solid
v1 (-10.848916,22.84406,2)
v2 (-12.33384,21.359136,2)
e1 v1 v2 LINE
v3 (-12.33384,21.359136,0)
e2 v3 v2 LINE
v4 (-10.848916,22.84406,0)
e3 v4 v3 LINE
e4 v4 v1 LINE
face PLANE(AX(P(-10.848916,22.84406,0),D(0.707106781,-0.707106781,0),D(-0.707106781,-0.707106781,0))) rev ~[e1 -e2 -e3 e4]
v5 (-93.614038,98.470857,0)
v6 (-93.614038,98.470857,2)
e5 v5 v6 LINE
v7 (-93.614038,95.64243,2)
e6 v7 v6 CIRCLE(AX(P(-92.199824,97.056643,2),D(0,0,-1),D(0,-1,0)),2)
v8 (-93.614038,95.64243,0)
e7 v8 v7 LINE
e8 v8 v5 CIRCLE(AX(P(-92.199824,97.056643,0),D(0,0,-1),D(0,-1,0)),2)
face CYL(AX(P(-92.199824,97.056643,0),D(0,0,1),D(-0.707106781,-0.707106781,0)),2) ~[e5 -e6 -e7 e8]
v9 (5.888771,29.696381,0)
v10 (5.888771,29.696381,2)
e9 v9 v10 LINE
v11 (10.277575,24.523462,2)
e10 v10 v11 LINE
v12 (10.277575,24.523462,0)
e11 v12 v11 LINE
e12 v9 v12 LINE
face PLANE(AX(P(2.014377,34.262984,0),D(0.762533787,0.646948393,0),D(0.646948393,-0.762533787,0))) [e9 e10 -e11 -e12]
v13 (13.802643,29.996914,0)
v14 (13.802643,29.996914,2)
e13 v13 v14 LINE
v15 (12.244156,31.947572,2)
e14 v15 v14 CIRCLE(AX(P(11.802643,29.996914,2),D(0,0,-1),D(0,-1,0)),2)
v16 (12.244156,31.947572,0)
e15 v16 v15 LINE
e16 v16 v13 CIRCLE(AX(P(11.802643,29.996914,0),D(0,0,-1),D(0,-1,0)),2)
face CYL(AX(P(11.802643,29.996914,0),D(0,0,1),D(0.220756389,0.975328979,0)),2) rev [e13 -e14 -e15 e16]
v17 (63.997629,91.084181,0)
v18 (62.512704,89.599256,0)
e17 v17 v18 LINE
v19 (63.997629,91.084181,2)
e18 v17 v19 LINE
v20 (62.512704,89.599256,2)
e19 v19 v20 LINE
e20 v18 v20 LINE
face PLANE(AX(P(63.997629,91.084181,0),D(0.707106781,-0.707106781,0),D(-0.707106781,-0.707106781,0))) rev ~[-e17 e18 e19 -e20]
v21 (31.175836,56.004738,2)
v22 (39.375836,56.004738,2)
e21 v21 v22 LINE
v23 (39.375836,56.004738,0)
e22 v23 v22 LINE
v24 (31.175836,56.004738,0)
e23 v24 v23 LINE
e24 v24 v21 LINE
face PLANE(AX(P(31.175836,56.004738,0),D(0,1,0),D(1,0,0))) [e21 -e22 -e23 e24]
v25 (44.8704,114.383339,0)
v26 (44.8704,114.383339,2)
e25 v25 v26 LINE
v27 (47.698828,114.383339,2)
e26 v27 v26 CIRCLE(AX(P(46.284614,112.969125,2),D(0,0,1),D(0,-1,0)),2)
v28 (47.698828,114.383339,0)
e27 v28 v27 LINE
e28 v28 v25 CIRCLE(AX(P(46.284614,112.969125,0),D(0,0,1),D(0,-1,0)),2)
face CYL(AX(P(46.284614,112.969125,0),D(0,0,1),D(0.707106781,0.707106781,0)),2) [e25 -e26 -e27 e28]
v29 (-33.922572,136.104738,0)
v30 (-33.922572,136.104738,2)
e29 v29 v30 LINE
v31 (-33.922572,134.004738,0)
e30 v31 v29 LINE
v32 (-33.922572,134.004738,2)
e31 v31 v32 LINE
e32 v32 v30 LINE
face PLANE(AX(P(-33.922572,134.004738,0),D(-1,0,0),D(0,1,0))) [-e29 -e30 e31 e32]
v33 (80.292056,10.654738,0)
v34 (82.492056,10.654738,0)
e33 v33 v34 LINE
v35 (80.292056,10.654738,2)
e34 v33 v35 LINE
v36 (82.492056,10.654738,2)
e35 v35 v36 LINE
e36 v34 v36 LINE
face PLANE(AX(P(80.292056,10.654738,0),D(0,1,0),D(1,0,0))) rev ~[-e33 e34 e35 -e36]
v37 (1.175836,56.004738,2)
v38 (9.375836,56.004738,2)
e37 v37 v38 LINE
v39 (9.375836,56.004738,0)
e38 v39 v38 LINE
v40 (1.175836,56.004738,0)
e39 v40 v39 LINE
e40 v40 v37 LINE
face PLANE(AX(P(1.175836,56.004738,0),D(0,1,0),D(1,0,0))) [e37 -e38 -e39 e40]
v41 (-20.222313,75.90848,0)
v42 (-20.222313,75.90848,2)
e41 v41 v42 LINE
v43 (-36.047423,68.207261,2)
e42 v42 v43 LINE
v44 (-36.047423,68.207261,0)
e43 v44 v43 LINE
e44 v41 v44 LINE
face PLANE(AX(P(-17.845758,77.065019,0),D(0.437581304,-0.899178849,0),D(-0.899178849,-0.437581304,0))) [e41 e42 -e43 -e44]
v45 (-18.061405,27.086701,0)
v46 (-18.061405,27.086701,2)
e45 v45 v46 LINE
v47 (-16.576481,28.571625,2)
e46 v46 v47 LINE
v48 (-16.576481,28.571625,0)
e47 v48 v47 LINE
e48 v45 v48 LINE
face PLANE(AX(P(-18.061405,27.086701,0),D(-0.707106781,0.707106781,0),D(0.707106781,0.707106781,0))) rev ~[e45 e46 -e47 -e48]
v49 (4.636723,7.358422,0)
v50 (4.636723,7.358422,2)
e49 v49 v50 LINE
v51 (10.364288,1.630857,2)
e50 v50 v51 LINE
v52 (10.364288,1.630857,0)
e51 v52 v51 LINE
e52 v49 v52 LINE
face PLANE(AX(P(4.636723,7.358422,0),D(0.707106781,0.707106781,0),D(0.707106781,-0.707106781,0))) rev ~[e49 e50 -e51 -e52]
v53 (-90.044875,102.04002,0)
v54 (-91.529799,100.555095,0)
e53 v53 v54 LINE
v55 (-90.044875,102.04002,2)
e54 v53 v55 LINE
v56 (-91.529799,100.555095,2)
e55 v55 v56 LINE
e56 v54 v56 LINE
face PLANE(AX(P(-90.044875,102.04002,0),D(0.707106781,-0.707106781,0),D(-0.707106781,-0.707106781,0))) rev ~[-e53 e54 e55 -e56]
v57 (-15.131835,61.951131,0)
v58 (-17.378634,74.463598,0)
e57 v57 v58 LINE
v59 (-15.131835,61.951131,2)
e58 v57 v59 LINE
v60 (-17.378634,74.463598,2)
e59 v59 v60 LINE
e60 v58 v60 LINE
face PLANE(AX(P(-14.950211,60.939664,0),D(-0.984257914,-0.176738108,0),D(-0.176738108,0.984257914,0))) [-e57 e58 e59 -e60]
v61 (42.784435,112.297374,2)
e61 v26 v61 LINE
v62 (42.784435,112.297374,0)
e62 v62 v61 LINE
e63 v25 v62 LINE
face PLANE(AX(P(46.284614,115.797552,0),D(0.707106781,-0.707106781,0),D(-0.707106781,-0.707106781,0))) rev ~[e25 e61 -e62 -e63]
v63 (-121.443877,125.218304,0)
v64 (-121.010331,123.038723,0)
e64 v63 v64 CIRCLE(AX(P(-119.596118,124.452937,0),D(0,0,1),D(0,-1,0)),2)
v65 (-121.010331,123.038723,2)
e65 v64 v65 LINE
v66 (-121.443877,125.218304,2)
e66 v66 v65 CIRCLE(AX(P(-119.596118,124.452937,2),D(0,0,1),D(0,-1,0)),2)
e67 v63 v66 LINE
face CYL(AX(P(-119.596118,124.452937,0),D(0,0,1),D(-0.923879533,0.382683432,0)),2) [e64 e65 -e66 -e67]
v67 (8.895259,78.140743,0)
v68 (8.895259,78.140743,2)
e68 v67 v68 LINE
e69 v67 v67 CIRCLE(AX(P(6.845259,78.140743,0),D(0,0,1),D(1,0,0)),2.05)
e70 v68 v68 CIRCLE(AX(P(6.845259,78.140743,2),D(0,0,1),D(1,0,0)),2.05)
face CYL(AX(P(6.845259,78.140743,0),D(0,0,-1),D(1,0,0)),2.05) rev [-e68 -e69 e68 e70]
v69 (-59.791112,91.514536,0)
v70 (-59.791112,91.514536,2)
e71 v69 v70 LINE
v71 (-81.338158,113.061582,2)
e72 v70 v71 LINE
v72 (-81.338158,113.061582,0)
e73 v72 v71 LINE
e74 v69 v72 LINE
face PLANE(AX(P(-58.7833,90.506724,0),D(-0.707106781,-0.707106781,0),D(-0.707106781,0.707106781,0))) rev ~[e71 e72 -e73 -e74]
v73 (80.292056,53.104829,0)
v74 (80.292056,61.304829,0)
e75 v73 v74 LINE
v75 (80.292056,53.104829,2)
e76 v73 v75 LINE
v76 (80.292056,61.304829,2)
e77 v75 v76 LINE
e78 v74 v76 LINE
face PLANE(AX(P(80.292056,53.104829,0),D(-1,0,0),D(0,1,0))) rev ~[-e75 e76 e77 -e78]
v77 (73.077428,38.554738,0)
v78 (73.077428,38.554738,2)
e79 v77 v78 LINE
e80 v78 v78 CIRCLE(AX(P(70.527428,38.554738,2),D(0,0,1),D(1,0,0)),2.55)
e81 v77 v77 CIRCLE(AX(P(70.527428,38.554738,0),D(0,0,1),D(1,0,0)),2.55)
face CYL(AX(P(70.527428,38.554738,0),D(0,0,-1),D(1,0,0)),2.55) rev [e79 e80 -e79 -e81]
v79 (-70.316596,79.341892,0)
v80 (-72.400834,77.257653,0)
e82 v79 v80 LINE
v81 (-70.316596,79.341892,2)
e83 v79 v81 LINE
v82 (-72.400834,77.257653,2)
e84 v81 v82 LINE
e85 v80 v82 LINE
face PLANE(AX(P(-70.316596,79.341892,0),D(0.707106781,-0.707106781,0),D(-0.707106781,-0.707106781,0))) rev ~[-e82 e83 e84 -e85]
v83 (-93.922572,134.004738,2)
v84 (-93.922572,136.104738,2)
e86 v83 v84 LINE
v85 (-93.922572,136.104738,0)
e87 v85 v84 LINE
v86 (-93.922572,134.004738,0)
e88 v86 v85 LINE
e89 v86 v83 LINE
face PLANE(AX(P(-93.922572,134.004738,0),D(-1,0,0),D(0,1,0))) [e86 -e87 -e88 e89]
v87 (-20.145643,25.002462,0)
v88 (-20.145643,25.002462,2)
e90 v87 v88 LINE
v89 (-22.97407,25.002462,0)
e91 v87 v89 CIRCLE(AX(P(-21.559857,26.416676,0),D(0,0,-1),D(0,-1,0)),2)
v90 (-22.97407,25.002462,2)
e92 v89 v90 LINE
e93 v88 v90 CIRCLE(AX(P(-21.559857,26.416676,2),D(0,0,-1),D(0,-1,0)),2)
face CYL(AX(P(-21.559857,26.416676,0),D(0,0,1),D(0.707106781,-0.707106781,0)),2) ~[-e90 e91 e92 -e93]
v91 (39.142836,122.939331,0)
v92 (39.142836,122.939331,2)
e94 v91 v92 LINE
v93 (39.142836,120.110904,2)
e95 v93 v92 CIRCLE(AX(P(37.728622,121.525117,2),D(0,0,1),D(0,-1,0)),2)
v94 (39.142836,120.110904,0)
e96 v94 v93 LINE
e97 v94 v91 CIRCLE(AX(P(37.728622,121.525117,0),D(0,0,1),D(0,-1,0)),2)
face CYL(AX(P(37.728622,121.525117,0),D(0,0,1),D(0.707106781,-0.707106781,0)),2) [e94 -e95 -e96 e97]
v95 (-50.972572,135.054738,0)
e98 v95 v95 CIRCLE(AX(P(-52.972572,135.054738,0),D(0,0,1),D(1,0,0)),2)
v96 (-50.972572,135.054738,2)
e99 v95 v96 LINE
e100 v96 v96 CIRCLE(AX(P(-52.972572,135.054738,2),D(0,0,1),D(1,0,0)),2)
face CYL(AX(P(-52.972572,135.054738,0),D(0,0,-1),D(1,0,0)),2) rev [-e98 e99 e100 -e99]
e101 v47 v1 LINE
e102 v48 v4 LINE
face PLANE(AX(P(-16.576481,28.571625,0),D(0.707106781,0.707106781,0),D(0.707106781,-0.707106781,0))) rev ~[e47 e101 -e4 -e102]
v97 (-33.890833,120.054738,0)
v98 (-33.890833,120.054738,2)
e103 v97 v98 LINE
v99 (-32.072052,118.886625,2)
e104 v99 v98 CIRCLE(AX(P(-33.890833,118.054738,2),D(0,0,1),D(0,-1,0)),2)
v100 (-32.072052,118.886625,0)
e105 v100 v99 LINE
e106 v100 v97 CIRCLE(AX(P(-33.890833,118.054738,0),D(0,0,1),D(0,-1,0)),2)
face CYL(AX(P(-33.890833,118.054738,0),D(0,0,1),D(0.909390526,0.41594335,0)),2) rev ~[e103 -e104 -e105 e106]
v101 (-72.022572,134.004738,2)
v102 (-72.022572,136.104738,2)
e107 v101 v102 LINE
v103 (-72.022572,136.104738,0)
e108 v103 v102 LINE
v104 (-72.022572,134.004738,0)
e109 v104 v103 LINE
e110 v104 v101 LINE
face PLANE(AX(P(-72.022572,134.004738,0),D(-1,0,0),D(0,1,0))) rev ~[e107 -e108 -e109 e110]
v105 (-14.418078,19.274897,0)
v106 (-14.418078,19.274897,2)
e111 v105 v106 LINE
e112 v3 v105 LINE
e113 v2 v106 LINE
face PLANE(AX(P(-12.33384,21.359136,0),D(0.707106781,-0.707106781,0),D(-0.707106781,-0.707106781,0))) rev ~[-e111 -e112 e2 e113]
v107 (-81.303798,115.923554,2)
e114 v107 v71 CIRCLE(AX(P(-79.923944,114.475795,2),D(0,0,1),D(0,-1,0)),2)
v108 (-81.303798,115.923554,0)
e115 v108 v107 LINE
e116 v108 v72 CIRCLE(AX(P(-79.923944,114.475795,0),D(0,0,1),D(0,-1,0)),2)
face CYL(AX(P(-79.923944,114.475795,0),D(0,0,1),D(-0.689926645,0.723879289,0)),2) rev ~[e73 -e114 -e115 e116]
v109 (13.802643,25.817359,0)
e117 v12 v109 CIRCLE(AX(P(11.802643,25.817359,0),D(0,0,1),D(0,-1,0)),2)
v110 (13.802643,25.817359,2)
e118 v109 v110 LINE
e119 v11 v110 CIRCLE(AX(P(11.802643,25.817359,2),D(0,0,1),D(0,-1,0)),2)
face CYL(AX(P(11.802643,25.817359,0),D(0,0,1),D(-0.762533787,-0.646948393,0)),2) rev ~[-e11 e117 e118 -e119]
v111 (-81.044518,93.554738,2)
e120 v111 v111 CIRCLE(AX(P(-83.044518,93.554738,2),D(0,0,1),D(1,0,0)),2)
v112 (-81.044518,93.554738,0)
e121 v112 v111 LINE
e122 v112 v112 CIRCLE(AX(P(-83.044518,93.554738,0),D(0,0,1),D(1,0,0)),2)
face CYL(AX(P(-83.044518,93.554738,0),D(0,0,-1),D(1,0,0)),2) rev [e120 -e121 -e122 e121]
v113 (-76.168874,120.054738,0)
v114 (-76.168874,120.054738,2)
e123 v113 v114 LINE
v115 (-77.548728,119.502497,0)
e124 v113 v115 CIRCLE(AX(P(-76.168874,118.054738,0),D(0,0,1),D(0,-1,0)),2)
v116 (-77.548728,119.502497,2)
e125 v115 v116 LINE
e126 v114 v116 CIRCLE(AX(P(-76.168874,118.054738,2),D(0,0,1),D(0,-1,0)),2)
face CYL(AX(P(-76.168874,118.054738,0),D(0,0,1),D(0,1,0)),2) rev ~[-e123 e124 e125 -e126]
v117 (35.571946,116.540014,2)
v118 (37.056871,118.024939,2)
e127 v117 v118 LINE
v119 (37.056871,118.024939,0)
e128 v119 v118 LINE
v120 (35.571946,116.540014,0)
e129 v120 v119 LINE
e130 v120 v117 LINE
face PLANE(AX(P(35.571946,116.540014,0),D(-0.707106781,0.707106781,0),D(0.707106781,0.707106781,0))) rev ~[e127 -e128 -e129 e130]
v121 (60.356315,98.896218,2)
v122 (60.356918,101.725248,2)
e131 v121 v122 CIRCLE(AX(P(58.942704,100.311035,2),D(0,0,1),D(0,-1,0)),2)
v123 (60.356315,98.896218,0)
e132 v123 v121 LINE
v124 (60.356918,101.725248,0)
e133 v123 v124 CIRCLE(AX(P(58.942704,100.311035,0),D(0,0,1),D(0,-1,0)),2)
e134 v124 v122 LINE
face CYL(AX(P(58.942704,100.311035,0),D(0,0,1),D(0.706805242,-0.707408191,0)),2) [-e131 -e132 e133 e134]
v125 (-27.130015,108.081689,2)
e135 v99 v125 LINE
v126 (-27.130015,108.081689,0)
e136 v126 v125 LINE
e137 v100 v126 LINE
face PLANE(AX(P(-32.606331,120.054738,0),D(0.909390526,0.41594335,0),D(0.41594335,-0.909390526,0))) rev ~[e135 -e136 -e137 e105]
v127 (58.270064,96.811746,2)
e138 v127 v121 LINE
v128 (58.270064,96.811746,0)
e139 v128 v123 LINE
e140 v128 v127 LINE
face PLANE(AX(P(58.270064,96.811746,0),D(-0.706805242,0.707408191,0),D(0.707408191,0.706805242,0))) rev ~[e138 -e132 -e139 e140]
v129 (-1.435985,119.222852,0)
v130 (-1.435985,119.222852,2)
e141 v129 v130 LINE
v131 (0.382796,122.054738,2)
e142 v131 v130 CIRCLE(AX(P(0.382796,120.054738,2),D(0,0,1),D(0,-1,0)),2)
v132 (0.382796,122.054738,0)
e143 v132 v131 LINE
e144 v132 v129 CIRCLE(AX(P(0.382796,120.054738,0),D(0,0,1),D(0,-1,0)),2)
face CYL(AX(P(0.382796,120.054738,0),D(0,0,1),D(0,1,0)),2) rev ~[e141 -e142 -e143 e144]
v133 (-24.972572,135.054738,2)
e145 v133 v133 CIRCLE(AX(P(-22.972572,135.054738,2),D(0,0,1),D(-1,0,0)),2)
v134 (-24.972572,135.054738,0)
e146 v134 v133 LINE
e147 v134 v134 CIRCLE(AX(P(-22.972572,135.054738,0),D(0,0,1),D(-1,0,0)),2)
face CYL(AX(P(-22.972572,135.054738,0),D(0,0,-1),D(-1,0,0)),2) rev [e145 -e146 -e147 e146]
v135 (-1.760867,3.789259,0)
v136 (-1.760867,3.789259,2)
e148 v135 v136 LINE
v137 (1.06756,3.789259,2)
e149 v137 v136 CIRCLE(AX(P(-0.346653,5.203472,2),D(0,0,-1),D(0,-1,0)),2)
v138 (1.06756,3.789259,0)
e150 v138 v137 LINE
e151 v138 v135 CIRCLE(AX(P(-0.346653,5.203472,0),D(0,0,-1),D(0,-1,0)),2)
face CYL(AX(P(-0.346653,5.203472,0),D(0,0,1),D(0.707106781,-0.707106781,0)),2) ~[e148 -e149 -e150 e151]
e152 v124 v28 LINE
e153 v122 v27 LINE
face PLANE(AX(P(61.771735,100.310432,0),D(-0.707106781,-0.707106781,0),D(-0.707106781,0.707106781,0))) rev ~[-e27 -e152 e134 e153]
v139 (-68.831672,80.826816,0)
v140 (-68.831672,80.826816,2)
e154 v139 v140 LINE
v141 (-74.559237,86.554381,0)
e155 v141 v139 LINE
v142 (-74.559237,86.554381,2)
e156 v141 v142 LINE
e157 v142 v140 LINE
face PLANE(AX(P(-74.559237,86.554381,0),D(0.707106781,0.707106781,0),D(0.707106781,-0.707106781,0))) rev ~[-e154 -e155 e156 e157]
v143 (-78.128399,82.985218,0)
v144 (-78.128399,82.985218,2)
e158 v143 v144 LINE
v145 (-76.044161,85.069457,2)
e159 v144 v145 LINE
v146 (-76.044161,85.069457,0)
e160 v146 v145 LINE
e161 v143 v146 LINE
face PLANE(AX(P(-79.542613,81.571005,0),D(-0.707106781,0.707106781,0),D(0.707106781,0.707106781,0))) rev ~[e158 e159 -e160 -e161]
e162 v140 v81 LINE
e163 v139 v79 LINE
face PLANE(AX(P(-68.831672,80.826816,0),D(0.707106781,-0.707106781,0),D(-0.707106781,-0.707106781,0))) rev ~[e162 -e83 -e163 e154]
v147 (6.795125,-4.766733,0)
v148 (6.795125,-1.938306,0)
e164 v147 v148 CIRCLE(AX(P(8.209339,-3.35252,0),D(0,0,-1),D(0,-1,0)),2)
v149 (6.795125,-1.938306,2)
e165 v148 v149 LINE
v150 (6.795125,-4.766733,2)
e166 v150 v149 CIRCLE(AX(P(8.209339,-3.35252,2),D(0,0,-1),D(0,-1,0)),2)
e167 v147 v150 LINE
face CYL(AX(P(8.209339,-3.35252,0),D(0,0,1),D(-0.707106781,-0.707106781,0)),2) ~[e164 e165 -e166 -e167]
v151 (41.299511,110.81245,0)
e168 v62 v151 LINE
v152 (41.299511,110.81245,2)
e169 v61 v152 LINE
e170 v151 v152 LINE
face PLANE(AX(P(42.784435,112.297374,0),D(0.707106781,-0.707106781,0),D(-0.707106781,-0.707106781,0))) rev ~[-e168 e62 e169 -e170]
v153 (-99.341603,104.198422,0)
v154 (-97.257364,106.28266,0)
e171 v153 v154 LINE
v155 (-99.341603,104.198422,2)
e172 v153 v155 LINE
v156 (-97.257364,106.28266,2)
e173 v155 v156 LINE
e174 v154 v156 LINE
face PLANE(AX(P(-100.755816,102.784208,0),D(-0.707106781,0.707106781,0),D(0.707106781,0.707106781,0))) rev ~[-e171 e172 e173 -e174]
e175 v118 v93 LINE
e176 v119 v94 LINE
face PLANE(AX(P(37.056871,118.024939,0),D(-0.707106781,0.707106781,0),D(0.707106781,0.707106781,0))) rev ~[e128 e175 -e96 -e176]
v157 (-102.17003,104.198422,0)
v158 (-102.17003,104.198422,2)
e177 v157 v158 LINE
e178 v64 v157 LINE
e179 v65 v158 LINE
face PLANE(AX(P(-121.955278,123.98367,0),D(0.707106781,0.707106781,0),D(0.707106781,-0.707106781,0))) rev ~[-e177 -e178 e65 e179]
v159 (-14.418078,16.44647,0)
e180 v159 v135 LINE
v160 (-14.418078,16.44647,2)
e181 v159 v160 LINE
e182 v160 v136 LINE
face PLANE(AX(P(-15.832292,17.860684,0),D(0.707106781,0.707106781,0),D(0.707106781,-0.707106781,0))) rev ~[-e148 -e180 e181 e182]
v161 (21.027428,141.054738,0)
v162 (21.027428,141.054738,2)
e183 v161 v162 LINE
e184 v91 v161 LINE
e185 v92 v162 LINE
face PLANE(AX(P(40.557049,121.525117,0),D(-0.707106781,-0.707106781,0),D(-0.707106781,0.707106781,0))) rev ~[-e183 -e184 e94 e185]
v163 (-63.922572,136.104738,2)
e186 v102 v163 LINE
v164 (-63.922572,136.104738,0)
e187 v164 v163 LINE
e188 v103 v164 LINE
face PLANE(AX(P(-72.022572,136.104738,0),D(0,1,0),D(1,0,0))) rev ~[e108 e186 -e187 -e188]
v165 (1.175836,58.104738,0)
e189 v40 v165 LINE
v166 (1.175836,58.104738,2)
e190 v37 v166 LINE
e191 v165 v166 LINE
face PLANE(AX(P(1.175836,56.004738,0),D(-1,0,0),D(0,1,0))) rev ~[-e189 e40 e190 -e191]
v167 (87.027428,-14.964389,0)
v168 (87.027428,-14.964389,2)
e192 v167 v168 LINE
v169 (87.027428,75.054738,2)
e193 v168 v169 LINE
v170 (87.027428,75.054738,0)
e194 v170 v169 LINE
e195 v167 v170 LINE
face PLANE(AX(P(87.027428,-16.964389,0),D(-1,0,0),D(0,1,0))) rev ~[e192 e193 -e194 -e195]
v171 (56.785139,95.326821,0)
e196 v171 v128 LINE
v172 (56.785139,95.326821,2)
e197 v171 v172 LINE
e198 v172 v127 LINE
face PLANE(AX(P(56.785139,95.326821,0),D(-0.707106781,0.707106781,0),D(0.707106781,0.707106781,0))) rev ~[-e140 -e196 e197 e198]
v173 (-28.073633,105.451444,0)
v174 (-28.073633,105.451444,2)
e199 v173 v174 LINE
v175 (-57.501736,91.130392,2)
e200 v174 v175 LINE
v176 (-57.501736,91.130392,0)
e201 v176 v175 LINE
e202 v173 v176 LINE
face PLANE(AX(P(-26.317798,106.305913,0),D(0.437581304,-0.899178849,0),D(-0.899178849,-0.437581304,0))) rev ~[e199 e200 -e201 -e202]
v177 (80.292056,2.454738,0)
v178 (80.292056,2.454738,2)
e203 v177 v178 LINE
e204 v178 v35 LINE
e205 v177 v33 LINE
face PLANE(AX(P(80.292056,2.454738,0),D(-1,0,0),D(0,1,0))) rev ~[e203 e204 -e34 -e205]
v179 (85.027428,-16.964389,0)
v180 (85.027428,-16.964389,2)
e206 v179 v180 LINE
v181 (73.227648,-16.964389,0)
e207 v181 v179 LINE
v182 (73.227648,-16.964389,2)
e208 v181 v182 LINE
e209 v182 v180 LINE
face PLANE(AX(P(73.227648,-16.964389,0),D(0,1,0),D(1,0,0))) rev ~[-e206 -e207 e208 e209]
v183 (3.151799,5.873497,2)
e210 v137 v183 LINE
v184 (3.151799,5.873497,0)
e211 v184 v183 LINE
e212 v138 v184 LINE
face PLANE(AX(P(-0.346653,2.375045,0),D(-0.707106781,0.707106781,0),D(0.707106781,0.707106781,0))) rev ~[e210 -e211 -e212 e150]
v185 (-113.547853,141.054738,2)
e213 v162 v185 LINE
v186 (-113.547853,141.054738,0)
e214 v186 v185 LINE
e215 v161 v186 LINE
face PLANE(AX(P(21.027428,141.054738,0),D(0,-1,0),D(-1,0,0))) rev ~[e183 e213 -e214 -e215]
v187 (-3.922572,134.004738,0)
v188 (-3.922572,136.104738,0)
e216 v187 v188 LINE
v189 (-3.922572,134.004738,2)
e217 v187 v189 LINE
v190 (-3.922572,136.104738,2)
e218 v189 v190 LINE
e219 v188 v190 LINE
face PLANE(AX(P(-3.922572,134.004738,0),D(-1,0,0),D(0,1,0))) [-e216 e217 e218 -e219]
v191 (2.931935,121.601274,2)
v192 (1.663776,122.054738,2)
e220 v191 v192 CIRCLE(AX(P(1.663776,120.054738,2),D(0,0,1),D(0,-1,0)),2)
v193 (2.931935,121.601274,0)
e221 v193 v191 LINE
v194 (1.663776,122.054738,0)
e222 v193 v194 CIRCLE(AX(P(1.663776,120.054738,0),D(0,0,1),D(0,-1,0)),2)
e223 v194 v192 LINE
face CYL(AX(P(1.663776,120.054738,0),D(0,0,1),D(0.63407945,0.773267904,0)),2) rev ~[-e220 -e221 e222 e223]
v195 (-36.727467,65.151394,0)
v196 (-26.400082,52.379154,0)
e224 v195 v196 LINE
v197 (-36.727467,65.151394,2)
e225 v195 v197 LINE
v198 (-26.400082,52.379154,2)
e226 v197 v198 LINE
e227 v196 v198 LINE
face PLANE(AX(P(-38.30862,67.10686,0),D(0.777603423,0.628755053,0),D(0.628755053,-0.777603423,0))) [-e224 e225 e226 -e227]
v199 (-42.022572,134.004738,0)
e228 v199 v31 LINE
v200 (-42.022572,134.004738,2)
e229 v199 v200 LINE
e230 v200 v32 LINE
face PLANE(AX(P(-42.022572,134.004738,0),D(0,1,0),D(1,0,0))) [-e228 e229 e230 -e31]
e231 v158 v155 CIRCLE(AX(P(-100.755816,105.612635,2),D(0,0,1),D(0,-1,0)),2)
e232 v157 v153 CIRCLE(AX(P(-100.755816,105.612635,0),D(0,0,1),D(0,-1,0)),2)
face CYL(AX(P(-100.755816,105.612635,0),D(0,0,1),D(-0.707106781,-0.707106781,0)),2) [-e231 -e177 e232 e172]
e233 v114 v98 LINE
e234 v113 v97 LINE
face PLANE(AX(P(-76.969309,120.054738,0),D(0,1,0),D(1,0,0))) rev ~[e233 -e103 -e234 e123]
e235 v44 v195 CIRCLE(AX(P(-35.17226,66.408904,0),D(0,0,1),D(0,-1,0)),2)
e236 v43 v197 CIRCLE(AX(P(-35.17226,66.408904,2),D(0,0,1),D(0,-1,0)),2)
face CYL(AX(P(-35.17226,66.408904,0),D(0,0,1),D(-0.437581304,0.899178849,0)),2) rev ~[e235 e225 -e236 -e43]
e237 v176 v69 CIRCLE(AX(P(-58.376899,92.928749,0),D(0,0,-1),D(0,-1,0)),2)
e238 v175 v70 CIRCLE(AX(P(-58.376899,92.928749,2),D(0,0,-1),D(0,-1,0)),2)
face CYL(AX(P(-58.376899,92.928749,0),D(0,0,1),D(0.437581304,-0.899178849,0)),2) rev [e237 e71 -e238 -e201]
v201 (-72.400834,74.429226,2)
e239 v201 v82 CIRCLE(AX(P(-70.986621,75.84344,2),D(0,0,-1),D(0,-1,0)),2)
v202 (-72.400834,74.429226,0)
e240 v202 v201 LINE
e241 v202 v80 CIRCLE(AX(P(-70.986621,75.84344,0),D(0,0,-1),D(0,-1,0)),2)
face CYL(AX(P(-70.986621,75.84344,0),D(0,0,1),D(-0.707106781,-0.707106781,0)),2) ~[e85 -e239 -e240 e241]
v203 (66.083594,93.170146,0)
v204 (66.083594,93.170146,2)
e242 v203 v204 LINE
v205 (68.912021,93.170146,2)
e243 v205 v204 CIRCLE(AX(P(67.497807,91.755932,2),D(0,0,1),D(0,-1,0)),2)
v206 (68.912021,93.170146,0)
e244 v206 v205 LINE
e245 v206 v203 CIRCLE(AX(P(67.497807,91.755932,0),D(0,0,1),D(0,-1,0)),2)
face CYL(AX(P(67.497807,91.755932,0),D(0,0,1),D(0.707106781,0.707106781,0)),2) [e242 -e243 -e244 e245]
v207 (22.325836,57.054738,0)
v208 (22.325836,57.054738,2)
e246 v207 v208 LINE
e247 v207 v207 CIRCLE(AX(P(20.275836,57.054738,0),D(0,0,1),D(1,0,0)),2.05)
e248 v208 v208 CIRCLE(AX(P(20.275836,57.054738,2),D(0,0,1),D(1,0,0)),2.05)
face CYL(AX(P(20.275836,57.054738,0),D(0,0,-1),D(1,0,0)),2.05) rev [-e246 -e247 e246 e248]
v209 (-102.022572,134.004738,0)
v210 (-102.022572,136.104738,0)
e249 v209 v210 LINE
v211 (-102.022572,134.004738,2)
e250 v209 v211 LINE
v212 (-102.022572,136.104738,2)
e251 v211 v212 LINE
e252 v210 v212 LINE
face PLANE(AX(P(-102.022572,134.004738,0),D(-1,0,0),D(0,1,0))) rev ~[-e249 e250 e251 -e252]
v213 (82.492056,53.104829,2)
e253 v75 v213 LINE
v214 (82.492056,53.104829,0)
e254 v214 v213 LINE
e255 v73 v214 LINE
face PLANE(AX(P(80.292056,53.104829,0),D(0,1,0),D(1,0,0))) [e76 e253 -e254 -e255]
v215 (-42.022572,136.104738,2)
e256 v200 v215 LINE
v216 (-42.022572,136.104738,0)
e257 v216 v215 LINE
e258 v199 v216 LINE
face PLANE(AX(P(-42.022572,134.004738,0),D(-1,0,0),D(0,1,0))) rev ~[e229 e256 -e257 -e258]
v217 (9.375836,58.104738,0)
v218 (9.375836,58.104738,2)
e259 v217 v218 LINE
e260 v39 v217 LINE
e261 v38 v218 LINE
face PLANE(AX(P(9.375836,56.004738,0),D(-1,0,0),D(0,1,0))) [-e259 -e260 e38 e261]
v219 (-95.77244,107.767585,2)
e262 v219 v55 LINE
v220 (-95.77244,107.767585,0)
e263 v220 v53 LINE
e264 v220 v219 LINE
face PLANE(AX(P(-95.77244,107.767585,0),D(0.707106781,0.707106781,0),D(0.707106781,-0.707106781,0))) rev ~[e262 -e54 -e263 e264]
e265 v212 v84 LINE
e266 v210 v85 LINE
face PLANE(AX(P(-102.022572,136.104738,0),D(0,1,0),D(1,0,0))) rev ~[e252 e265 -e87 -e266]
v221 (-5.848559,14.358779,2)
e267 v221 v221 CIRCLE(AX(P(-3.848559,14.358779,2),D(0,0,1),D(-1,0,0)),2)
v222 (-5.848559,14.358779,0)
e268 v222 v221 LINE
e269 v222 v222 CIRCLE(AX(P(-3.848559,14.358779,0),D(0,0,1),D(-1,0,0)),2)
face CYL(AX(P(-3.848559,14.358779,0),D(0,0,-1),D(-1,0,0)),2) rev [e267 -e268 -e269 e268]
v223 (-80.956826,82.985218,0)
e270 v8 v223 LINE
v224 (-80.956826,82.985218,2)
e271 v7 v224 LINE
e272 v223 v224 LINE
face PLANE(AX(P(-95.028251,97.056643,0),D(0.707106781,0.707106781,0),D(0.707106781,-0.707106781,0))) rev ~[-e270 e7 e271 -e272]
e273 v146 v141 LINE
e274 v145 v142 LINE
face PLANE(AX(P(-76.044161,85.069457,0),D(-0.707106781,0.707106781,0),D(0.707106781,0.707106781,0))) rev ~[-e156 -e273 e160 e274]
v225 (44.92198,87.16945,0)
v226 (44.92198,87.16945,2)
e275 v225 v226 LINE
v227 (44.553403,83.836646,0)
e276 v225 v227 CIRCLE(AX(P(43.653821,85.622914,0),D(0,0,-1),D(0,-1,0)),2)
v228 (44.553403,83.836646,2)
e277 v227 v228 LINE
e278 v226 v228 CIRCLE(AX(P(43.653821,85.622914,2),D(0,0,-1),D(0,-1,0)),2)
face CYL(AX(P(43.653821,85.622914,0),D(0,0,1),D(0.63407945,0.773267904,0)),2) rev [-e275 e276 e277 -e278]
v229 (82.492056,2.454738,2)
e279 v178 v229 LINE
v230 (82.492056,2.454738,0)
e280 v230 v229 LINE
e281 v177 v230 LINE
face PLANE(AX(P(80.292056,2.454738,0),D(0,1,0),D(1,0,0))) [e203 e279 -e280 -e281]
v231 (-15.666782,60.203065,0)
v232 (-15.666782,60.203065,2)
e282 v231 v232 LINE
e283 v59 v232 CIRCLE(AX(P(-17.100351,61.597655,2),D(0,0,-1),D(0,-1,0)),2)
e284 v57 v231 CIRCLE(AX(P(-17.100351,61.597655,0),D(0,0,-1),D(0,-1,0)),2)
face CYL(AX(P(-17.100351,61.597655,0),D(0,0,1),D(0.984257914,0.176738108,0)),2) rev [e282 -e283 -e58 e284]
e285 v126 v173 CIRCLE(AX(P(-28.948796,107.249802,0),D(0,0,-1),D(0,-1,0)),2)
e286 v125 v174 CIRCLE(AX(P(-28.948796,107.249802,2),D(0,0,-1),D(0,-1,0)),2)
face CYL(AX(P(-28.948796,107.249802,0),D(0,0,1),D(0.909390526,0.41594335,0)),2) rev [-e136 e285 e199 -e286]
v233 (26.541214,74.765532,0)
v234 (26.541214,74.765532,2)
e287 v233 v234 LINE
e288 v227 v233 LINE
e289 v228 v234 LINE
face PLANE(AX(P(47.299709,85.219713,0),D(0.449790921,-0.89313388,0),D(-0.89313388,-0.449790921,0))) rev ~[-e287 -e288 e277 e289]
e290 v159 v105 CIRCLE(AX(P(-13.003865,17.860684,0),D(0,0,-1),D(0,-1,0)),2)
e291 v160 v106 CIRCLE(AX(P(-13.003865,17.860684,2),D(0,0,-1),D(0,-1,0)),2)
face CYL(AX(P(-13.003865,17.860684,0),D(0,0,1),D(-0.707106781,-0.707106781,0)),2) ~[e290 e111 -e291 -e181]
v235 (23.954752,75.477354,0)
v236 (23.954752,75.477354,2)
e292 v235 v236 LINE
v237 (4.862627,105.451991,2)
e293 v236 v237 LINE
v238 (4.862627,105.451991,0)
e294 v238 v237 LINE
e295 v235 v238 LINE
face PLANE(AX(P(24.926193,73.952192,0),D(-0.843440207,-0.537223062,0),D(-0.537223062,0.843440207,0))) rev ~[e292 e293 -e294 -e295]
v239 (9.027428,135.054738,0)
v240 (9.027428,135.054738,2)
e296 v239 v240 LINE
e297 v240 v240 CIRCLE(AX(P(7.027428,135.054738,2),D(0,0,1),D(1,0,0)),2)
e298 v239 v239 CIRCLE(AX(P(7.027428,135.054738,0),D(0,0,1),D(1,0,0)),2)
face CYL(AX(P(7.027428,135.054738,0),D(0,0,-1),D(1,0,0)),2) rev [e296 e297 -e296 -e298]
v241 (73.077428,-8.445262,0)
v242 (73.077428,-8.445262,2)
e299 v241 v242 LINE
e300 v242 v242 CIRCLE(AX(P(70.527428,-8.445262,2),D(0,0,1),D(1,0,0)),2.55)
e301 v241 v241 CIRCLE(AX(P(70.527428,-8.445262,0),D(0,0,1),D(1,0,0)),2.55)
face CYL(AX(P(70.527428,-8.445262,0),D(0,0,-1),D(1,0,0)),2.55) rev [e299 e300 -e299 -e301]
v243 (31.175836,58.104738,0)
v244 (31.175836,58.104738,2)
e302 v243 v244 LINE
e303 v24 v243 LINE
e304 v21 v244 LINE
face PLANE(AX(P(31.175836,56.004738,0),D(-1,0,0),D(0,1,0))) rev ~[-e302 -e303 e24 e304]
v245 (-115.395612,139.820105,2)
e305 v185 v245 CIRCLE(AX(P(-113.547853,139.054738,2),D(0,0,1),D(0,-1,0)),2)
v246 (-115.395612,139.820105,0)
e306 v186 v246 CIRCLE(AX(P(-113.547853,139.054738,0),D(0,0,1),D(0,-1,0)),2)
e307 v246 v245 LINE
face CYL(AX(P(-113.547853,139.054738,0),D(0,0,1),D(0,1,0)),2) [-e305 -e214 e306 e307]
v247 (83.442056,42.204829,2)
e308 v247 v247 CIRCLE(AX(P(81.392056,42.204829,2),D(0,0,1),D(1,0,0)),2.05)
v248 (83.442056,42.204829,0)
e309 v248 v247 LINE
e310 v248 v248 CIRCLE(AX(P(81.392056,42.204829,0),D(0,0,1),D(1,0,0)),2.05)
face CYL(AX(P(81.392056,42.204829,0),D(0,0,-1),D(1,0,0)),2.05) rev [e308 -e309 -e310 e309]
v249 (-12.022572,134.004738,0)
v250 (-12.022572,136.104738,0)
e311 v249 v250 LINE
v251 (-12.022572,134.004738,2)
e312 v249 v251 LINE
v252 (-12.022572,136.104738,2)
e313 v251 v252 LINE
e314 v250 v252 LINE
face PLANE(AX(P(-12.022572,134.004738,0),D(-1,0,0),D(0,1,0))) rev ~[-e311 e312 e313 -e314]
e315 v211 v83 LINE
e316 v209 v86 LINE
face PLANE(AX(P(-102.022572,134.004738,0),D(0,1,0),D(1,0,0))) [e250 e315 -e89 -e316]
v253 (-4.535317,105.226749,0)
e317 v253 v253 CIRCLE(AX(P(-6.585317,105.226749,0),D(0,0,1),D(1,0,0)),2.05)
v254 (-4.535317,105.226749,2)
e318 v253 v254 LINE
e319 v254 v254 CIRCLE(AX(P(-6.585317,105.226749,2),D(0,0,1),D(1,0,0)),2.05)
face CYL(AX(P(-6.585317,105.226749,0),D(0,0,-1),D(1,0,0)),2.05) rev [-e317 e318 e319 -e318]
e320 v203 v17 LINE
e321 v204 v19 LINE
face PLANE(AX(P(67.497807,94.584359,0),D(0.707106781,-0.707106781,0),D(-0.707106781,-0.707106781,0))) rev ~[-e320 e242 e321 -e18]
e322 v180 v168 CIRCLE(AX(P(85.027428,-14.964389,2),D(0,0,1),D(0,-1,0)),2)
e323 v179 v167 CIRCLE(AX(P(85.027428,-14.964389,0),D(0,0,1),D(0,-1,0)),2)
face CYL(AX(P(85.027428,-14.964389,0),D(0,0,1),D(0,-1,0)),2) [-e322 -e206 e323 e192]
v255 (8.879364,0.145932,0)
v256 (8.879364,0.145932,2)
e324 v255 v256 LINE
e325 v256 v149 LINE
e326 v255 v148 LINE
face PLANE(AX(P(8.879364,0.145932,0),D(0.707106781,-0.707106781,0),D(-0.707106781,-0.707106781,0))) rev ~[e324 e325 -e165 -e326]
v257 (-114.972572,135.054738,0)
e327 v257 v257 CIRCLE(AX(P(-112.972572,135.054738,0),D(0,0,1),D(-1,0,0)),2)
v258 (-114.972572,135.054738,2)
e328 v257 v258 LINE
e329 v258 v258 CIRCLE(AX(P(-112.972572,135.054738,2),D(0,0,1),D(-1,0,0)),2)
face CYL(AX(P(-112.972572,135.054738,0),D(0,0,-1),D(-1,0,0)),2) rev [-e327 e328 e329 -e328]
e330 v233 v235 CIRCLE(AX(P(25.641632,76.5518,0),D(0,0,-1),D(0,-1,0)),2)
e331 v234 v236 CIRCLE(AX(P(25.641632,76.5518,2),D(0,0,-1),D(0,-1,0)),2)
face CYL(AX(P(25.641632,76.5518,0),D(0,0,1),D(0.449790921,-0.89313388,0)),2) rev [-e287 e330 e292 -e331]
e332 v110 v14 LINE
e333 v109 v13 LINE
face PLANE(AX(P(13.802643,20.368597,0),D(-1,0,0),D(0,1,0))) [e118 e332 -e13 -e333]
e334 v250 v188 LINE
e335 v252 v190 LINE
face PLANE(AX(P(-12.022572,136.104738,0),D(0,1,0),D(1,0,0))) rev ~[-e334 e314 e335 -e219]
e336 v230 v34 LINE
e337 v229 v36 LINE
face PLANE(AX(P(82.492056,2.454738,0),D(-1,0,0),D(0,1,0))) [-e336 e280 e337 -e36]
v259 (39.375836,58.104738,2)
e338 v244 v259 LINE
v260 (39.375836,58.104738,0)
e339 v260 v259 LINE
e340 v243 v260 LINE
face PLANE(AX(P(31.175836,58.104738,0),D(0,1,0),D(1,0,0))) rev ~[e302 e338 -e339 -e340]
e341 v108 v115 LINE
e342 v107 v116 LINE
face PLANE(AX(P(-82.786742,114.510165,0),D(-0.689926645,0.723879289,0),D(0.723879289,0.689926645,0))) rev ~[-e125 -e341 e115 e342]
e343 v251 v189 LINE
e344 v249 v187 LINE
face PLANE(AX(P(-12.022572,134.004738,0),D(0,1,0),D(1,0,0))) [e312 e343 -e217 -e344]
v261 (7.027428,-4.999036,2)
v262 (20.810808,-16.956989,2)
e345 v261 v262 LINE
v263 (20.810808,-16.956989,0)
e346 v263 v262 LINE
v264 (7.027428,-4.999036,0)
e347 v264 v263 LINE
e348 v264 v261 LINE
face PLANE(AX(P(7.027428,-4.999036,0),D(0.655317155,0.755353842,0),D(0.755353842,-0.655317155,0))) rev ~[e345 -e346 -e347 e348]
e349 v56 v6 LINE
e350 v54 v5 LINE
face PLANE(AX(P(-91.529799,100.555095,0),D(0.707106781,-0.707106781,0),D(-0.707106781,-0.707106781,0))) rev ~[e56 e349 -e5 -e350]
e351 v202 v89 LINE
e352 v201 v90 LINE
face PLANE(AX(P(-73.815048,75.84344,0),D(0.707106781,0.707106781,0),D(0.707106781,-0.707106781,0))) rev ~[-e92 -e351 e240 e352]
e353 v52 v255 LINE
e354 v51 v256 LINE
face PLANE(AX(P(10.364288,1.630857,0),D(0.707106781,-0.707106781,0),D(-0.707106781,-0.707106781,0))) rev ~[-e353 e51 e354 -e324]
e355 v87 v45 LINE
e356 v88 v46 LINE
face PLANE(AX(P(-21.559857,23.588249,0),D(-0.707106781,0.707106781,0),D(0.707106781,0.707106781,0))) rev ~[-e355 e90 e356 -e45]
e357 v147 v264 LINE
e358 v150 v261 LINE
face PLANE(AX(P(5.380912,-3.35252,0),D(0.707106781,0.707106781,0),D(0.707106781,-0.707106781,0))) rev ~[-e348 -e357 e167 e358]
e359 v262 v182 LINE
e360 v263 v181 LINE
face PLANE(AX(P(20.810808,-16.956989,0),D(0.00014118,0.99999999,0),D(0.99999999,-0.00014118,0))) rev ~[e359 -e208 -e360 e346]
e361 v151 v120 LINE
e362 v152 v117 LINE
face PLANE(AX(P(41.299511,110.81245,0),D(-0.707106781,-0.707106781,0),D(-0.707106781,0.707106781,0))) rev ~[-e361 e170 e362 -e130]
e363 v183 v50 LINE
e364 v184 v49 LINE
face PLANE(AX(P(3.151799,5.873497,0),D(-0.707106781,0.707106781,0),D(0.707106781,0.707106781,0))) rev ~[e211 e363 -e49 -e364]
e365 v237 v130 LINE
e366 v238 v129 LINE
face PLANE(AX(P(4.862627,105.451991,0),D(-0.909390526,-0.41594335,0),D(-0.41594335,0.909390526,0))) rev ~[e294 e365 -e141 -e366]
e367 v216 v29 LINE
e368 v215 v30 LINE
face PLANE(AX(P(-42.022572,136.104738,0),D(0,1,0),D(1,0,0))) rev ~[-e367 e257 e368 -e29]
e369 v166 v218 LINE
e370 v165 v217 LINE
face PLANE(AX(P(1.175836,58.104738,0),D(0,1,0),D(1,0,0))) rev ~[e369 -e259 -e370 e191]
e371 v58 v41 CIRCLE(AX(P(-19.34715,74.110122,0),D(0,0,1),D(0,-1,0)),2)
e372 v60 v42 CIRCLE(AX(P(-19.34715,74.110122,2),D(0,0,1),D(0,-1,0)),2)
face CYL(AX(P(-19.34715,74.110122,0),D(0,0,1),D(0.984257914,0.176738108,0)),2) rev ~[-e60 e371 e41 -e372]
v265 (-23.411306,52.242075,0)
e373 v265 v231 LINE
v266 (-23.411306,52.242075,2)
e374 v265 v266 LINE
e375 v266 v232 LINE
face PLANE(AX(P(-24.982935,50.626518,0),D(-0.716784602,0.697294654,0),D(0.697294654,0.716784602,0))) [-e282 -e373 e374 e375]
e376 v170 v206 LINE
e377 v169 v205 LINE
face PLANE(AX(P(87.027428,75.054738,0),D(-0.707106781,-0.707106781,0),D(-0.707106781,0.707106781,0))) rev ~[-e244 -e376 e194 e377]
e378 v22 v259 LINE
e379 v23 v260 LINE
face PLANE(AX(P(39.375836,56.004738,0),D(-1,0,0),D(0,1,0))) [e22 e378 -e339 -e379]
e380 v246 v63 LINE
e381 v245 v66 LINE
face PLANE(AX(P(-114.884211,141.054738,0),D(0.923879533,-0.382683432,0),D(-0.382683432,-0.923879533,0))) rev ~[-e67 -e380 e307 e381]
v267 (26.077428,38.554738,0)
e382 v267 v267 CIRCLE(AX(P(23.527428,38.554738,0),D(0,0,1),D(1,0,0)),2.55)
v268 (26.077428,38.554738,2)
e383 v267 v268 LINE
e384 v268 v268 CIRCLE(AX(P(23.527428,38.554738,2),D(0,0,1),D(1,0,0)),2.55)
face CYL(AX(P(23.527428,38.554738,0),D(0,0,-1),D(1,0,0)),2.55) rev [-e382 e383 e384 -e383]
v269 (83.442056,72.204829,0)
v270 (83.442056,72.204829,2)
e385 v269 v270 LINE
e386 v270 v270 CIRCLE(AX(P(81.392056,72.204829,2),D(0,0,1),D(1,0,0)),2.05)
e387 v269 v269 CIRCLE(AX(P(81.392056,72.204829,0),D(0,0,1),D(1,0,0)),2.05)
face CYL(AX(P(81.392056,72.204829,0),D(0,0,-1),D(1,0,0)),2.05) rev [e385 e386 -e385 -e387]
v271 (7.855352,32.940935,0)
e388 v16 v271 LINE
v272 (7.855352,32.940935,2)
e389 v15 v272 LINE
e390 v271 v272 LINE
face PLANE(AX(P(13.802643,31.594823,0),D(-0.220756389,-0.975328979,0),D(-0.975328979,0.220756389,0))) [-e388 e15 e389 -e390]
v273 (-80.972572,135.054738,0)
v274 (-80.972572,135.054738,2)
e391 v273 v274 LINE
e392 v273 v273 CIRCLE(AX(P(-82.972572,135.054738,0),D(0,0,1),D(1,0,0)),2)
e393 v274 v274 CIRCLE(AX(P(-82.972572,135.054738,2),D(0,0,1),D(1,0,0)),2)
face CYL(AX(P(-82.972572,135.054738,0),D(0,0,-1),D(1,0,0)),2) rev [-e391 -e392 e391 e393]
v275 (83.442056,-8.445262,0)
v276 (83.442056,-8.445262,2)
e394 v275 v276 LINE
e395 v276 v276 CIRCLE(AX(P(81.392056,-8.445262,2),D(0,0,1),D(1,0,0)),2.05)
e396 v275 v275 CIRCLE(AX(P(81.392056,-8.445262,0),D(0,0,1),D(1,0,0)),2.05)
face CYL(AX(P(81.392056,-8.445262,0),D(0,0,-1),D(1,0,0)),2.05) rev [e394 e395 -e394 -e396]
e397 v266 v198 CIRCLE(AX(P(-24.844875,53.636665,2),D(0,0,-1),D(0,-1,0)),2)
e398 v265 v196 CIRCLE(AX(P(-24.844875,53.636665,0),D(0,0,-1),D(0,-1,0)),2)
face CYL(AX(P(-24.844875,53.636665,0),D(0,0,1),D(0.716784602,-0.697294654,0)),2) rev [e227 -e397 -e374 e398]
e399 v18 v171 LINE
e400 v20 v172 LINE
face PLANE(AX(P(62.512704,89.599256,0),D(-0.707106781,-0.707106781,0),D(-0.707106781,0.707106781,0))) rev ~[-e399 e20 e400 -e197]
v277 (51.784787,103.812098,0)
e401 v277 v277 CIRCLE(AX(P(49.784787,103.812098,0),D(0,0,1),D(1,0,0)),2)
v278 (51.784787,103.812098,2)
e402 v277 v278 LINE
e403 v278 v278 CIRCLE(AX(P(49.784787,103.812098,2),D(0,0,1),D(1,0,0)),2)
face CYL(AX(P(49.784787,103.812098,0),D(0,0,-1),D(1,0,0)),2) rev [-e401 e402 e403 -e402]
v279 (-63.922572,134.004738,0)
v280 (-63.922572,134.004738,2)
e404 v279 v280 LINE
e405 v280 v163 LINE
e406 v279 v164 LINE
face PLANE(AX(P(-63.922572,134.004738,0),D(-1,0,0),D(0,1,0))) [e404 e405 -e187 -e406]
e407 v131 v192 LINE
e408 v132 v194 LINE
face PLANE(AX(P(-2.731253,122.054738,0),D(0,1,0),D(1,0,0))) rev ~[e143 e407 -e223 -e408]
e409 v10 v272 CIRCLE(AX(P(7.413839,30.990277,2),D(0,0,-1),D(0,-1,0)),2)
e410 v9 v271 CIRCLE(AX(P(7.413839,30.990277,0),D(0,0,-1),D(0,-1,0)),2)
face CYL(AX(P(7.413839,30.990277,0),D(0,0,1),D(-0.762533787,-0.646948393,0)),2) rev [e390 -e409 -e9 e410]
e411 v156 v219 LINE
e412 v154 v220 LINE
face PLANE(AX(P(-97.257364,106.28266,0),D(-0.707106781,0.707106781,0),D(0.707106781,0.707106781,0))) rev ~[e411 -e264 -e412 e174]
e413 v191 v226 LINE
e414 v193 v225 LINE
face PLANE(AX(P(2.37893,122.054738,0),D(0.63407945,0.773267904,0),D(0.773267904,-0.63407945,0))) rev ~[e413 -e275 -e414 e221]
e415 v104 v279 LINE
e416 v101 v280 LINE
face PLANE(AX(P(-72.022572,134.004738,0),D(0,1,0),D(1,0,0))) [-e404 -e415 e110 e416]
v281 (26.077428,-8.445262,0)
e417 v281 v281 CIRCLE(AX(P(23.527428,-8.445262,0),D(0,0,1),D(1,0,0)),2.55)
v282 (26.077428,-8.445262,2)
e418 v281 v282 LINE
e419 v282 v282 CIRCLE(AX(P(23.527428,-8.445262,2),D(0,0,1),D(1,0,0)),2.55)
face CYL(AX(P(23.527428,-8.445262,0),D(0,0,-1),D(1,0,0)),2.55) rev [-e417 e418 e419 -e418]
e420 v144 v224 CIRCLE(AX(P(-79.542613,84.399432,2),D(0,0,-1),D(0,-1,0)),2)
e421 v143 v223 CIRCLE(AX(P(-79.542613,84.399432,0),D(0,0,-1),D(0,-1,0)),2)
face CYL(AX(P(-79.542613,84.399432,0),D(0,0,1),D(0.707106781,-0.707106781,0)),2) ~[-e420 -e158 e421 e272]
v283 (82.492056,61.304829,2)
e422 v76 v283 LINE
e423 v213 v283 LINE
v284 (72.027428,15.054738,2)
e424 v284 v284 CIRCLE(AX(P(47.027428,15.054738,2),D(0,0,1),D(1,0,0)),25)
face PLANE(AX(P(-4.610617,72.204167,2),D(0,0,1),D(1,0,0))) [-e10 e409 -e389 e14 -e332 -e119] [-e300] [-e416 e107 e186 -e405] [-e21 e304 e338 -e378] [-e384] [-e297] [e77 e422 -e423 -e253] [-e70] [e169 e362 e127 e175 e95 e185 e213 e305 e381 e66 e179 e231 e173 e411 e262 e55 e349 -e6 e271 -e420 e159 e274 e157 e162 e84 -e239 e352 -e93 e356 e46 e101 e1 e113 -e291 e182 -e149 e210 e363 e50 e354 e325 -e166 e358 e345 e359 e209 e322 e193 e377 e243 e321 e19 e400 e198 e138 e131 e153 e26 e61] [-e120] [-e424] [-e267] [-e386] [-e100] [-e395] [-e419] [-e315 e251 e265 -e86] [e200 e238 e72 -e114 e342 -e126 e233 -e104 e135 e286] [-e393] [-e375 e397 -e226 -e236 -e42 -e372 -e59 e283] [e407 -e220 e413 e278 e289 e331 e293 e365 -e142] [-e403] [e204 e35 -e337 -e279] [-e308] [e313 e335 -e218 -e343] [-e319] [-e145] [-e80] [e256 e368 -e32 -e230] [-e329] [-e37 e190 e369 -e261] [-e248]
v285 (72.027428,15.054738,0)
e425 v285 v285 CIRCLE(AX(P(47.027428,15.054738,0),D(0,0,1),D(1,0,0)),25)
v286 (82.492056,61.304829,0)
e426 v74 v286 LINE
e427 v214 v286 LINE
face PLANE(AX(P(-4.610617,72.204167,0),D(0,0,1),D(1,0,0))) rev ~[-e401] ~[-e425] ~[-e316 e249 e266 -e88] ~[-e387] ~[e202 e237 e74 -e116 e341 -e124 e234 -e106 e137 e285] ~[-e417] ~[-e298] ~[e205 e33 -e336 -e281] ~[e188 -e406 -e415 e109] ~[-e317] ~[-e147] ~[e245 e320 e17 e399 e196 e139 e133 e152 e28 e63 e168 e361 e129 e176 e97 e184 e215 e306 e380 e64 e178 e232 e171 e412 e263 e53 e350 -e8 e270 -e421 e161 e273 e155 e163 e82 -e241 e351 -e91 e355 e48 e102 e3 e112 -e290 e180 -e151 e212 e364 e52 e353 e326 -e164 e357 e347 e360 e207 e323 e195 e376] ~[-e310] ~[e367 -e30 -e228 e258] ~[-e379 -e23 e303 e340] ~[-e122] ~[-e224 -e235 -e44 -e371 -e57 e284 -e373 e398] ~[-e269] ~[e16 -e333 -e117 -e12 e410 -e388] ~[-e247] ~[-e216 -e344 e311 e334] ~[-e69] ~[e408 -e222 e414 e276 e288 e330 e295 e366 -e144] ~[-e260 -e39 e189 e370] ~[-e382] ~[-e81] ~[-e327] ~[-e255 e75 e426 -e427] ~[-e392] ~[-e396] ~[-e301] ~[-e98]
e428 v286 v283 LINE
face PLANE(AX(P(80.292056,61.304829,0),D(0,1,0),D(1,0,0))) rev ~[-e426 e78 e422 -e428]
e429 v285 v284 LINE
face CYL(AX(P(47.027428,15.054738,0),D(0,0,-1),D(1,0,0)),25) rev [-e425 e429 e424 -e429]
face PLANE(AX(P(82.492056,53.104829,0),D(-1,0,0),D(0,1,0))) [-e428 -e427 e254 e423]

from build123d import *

# Parameters (mm, degrees)
SKETCH_1_R      = 2
SKETCH_1_R_2    = 25
SKETCH_1_R_3    = 2.05
SKETCH_1_R_4    = 2.55
SKETCH_1_W      = 8.1
SKETCH_1_H      = 2.1
SKETCH_1_W_2    = 8.2
SKETCH_1_W_3    = 2.2
SKETCH_1_H_2    = 8.2
EXTRUDE_1_DEPTH = 2
FILLET_2_R      = 2


with BuildPart() as part:
    # 草图1 → 凸台-拉伸1 (new body)
    with BuildSketch(Plane.XY):
        Polygon((7.027428163, -4.999036262), (20.810808237, -16.956988843), (73.227648339, -16.964389058), (87.027428163, -16.964389058), (87.027428163, 75.054738201), (67.497807203, 94.584359161), (63.997628636, 91.084180595), (62.512704395, 89.599256354), (56.785139468, 95.326821282), (58.270063708, 96.811745522), (61.771734574, 100.31043179), (54.027428163, 108.054738201), (46.284614051, 115.797552313), (42.784435485, 112.297373746), (41.299511244, 110.812449505), (35.571946316, 116.540014433), (37.056870557, 118.024938674), (40.557049124, 121.52511724), (21.027428163, 141.054738201), (-114.884210676, 141.054738201), (-121.955278488, 123.983670389), (-100.755816342, 102.784208243), (-97.257364322, 106.282660262), (-95.772440082, 107.767584503), (-90.044875154, 102.040019575), (-91.529799395, 100.555095335), (-95.028251414, 97.056643315), (-87.28543216, 89.313824061), (-79.542612906, 81.571004807), (-76.044160887, 85.069456827), (-74.559236646, 86.554381067), (-68.831671719, 80.82681614), (-70.316595959, 79.341891899), (-73.815047978, 75.84343988), (-21.559856849, 23.58824875), (-18.061404829, 27.086700769), (-16.576480589, 28.57162501), (-10.848915661, 22.844060082), (-12.333839902, 21.359135842), (-15.832291921, 17.860683822), (-8.089472667, 10.117864568), (-0.346653413, 2.375045314), (3.151798606, 5.873497334), (4.636722847, 7.358421574), (10.364287774, 1.630856647), (8.879363534, 0.145932406), (5.380911515, -3.352519613), align=None)
        with Locations((-52.972571837, 135.054738201)):
            Circle(SKETCH_1_R, mode=Mode.SUBTRACT)
        with Locations((47.027428163, 15.054738201)):
            Circle(SKETCH_1_R_2, mode=Mode.SUBTRACT)
        with Locations(Location((-22.972571837, 135.054738201, 0), (0, 0, 180))):
            Circle(SKETCH_1_R, mode=Mode.SUBTRACT)
        with Locations((7.027428163, 135.054738201)):
            Circle(SKETCH_1_R, mode=Mode.SUBTRACT)
        with Locations(Location((-112.972571837, 135.054738201, 0), (0, 0, 180))):
            Circle(SKETCH_1_R, mode=Mode.SUBTRACT)
        with Locations((-82.972571837, 135.054738201)):
            Circle(SKETCH_1_R, mode=Mode.SUBTRACT)
        with Locations((49.784787476, 103.812097514)):
            Circle(SKETCH_1_R, mode=Mode.SUBTRACT)
        with Locations((-83.04451802, 93.554738201)):
            Circle(SKETCH_1_R, mode=Mode.SUBTRACT)
        with Locations((20.275835807, 57.054738201)):
            Circle(SKETCH_1_R_3, mode=Mode.SUBTRACT)
        with Locations((70.527428163, -8.445261799)):
            Circle(SKETCH_1_R_4, mode=Mode.SUBTRACT)
        with Locations((23.527428163, -8.445261799)):
            Circle(SKETCH_1_R_4, mode=Mode.SUBTRACT)
        with Locations((23.527428163, 38.554738201)):
            Circle(SKETCH_1_R_4, mode=Mode.SUBTRACT)
        with Locations((70.527428163, 38.554738201)):
            Circle(SKETCH_1_R_4, mode=Mode.SUBTRACT)
        with Locations((81.392055944, 72.204829046)):
            Circle(SKETCH_1_R_3, mode=Mode.SUBTRACT)
        with Locations((81.392055944, -8.445261799)):
            Circle(SKETCH_1_R_3, mode=Mode.SUBTRACT)
        with Locations((81.392055944, 42.204829046)):
            Circle(SKETCH_1_R_3, mode=Mode.SUBTRACT)
        with Locations((6.845259268, 78.140743367)):
            Circle(SKETCH_1_R_3, mode=Mode.SUBTRACT)
        with Locations(Location((-3.848558527, 14.358778708, 0), (0, 0, 180))):
            Circle(SKETCH_1_R, mode=Mode.SUBTRACT)
        with Locations((-6.58531727, 105.226748532)):
            Circle(SKETCH_1_R_3, mode=Mode.SUBTRACT)
        with Locations((-37.972571837, 135.054738201)):
            Rectangle(SKETCH_1_W, SKETCH_1_H, mode=Mode.SUBTRACT)
        with Locations((-7.972571837, 135.054738201)):
            Rectangle(SKETCH_1_W, SKETCH_1_H, mode=Mode.SUBTRACT)
        with Locations((-97.972571837, 135.054738201)):
            Rectangle(SKETCH_1_W, SKETCH_1_H, mode=Mode.SUBTRACT)
        with Locations((-67.972571837, 135.054738201)):
            Rectangle(SKETCH_1_W, SKETCH_1_H, mode=Mode.SUBTRACT)
        with Locations((5.275835807, 57.054738201)):
            Rectangle(SKETCH_1_W_2, SKETCH_1_H, mode=Mode.SUBTRACT)
        with Locations((35.275835807, 57.054738201)):
            Rectangle(SKETCH_1_W_2, SKETCH_1_H, mode=Mode.SUBTRACT)
        Polygon((-26.317798475, 106.3059132), (-58.783300448, 90.506724064), (-82.786741677, 114.510165293), (-76.96930946, 120.054738201), (-32.606331473, 120.054738201), align=None, mode=Mode.SUBTRACT)
        Polygon((47.299709176, 85.219712632), (24.92619293, 73.952191934), (4.862626833, 105.451990707), (-2.731253041, 122.054738201), (2.37892986, 122.054738201), align=None, mode=Mode.SUBTRACT)
        Polygon((-14.950211349, 60.939664471), (-17.845757969, 77.065019133), (-38.30861977, 67.106860342), (-24.982934729, 50.626518371), align=None, mode=Mode.SUBTRACT)
        Polygon((2.01437662, 34.262984309), (13.802642778, 20.368597473), (13.802642778, 31.594822975), align=None, mode=Mode.SUBTRACT)
        with Locations((81.392055944, 57.204829046)):
            Rectangle(SKETCH_1_W_3, SKETCH_1_H_2, mode=Mode.SUBTRACT)
        with Locations((81.392055944, 6.554738201)):
            Rectangle(SKETCH_1_W_3, SKETCH_1_H_2, mode=Mode.SUBTRACT)
    extrude(amount=EXTRUDE_1_DEPTH)

    # 圆角2
    fillet_2_edges = [part.edges().sort_by_distance(p)[0] for p in [
        (-26.317798475, 106.3059132, 1),
        (-32.606331473, 120.054738201, 1),
        (-76.96930946, 120.054738201, 1),
        (-82.786741677, 114.510165293, 1),
        (-58.783300448, 90.506724064, 1),
        (47.299709176, 85.219712632, 1),
        (2.37892986, 122.054738201, 1),
        (-2.731253041, 122.054738201, 1),
        (24.92619293, 73.952191934, 1),
        (-24.982934729, 50.626518371, 1),
        (-14.950211349, 60.939664471, 1),
        (-17.845757969, 77.065019133, 1),
        (-38.30861977, 67.106860342, 1),
        (13.802642778, 31.594822975, 1),
        (2.01437662, 34.262984309, 1),
        (13.802642778, 20.368597473, 1),
        (40.557049124, 121.52511724, 1),
        (46.284614051, 115.797552313, 1),
        (61.771734574, 100.31043179, 1),
        (67.497807203, 94.584359161, 1),
        (87.027428163, -16.964389058, 1),
        (5.380911515, -3.352519613, 1),
        (-0.346653413, 2.375045314, 1),
        (-15.832291921, 17.860683822, 1),
        (-21.559856849, 23.58824875, 1),
        (-73.815047978, 75.84343988, 1),
        (-79.542612906, 81.571004807, 1),
        (-95.028251414, 97.056643315, 1),
        (-100.755816342, 102.784208243, 1),
        (-121.955278488, 123.983670389, 1),
        (-114.884210676, 141.054738201, 1),
    ]]
    fillet(fillet_2_edges, radius=FILLET_2_R)


solid = part.part
